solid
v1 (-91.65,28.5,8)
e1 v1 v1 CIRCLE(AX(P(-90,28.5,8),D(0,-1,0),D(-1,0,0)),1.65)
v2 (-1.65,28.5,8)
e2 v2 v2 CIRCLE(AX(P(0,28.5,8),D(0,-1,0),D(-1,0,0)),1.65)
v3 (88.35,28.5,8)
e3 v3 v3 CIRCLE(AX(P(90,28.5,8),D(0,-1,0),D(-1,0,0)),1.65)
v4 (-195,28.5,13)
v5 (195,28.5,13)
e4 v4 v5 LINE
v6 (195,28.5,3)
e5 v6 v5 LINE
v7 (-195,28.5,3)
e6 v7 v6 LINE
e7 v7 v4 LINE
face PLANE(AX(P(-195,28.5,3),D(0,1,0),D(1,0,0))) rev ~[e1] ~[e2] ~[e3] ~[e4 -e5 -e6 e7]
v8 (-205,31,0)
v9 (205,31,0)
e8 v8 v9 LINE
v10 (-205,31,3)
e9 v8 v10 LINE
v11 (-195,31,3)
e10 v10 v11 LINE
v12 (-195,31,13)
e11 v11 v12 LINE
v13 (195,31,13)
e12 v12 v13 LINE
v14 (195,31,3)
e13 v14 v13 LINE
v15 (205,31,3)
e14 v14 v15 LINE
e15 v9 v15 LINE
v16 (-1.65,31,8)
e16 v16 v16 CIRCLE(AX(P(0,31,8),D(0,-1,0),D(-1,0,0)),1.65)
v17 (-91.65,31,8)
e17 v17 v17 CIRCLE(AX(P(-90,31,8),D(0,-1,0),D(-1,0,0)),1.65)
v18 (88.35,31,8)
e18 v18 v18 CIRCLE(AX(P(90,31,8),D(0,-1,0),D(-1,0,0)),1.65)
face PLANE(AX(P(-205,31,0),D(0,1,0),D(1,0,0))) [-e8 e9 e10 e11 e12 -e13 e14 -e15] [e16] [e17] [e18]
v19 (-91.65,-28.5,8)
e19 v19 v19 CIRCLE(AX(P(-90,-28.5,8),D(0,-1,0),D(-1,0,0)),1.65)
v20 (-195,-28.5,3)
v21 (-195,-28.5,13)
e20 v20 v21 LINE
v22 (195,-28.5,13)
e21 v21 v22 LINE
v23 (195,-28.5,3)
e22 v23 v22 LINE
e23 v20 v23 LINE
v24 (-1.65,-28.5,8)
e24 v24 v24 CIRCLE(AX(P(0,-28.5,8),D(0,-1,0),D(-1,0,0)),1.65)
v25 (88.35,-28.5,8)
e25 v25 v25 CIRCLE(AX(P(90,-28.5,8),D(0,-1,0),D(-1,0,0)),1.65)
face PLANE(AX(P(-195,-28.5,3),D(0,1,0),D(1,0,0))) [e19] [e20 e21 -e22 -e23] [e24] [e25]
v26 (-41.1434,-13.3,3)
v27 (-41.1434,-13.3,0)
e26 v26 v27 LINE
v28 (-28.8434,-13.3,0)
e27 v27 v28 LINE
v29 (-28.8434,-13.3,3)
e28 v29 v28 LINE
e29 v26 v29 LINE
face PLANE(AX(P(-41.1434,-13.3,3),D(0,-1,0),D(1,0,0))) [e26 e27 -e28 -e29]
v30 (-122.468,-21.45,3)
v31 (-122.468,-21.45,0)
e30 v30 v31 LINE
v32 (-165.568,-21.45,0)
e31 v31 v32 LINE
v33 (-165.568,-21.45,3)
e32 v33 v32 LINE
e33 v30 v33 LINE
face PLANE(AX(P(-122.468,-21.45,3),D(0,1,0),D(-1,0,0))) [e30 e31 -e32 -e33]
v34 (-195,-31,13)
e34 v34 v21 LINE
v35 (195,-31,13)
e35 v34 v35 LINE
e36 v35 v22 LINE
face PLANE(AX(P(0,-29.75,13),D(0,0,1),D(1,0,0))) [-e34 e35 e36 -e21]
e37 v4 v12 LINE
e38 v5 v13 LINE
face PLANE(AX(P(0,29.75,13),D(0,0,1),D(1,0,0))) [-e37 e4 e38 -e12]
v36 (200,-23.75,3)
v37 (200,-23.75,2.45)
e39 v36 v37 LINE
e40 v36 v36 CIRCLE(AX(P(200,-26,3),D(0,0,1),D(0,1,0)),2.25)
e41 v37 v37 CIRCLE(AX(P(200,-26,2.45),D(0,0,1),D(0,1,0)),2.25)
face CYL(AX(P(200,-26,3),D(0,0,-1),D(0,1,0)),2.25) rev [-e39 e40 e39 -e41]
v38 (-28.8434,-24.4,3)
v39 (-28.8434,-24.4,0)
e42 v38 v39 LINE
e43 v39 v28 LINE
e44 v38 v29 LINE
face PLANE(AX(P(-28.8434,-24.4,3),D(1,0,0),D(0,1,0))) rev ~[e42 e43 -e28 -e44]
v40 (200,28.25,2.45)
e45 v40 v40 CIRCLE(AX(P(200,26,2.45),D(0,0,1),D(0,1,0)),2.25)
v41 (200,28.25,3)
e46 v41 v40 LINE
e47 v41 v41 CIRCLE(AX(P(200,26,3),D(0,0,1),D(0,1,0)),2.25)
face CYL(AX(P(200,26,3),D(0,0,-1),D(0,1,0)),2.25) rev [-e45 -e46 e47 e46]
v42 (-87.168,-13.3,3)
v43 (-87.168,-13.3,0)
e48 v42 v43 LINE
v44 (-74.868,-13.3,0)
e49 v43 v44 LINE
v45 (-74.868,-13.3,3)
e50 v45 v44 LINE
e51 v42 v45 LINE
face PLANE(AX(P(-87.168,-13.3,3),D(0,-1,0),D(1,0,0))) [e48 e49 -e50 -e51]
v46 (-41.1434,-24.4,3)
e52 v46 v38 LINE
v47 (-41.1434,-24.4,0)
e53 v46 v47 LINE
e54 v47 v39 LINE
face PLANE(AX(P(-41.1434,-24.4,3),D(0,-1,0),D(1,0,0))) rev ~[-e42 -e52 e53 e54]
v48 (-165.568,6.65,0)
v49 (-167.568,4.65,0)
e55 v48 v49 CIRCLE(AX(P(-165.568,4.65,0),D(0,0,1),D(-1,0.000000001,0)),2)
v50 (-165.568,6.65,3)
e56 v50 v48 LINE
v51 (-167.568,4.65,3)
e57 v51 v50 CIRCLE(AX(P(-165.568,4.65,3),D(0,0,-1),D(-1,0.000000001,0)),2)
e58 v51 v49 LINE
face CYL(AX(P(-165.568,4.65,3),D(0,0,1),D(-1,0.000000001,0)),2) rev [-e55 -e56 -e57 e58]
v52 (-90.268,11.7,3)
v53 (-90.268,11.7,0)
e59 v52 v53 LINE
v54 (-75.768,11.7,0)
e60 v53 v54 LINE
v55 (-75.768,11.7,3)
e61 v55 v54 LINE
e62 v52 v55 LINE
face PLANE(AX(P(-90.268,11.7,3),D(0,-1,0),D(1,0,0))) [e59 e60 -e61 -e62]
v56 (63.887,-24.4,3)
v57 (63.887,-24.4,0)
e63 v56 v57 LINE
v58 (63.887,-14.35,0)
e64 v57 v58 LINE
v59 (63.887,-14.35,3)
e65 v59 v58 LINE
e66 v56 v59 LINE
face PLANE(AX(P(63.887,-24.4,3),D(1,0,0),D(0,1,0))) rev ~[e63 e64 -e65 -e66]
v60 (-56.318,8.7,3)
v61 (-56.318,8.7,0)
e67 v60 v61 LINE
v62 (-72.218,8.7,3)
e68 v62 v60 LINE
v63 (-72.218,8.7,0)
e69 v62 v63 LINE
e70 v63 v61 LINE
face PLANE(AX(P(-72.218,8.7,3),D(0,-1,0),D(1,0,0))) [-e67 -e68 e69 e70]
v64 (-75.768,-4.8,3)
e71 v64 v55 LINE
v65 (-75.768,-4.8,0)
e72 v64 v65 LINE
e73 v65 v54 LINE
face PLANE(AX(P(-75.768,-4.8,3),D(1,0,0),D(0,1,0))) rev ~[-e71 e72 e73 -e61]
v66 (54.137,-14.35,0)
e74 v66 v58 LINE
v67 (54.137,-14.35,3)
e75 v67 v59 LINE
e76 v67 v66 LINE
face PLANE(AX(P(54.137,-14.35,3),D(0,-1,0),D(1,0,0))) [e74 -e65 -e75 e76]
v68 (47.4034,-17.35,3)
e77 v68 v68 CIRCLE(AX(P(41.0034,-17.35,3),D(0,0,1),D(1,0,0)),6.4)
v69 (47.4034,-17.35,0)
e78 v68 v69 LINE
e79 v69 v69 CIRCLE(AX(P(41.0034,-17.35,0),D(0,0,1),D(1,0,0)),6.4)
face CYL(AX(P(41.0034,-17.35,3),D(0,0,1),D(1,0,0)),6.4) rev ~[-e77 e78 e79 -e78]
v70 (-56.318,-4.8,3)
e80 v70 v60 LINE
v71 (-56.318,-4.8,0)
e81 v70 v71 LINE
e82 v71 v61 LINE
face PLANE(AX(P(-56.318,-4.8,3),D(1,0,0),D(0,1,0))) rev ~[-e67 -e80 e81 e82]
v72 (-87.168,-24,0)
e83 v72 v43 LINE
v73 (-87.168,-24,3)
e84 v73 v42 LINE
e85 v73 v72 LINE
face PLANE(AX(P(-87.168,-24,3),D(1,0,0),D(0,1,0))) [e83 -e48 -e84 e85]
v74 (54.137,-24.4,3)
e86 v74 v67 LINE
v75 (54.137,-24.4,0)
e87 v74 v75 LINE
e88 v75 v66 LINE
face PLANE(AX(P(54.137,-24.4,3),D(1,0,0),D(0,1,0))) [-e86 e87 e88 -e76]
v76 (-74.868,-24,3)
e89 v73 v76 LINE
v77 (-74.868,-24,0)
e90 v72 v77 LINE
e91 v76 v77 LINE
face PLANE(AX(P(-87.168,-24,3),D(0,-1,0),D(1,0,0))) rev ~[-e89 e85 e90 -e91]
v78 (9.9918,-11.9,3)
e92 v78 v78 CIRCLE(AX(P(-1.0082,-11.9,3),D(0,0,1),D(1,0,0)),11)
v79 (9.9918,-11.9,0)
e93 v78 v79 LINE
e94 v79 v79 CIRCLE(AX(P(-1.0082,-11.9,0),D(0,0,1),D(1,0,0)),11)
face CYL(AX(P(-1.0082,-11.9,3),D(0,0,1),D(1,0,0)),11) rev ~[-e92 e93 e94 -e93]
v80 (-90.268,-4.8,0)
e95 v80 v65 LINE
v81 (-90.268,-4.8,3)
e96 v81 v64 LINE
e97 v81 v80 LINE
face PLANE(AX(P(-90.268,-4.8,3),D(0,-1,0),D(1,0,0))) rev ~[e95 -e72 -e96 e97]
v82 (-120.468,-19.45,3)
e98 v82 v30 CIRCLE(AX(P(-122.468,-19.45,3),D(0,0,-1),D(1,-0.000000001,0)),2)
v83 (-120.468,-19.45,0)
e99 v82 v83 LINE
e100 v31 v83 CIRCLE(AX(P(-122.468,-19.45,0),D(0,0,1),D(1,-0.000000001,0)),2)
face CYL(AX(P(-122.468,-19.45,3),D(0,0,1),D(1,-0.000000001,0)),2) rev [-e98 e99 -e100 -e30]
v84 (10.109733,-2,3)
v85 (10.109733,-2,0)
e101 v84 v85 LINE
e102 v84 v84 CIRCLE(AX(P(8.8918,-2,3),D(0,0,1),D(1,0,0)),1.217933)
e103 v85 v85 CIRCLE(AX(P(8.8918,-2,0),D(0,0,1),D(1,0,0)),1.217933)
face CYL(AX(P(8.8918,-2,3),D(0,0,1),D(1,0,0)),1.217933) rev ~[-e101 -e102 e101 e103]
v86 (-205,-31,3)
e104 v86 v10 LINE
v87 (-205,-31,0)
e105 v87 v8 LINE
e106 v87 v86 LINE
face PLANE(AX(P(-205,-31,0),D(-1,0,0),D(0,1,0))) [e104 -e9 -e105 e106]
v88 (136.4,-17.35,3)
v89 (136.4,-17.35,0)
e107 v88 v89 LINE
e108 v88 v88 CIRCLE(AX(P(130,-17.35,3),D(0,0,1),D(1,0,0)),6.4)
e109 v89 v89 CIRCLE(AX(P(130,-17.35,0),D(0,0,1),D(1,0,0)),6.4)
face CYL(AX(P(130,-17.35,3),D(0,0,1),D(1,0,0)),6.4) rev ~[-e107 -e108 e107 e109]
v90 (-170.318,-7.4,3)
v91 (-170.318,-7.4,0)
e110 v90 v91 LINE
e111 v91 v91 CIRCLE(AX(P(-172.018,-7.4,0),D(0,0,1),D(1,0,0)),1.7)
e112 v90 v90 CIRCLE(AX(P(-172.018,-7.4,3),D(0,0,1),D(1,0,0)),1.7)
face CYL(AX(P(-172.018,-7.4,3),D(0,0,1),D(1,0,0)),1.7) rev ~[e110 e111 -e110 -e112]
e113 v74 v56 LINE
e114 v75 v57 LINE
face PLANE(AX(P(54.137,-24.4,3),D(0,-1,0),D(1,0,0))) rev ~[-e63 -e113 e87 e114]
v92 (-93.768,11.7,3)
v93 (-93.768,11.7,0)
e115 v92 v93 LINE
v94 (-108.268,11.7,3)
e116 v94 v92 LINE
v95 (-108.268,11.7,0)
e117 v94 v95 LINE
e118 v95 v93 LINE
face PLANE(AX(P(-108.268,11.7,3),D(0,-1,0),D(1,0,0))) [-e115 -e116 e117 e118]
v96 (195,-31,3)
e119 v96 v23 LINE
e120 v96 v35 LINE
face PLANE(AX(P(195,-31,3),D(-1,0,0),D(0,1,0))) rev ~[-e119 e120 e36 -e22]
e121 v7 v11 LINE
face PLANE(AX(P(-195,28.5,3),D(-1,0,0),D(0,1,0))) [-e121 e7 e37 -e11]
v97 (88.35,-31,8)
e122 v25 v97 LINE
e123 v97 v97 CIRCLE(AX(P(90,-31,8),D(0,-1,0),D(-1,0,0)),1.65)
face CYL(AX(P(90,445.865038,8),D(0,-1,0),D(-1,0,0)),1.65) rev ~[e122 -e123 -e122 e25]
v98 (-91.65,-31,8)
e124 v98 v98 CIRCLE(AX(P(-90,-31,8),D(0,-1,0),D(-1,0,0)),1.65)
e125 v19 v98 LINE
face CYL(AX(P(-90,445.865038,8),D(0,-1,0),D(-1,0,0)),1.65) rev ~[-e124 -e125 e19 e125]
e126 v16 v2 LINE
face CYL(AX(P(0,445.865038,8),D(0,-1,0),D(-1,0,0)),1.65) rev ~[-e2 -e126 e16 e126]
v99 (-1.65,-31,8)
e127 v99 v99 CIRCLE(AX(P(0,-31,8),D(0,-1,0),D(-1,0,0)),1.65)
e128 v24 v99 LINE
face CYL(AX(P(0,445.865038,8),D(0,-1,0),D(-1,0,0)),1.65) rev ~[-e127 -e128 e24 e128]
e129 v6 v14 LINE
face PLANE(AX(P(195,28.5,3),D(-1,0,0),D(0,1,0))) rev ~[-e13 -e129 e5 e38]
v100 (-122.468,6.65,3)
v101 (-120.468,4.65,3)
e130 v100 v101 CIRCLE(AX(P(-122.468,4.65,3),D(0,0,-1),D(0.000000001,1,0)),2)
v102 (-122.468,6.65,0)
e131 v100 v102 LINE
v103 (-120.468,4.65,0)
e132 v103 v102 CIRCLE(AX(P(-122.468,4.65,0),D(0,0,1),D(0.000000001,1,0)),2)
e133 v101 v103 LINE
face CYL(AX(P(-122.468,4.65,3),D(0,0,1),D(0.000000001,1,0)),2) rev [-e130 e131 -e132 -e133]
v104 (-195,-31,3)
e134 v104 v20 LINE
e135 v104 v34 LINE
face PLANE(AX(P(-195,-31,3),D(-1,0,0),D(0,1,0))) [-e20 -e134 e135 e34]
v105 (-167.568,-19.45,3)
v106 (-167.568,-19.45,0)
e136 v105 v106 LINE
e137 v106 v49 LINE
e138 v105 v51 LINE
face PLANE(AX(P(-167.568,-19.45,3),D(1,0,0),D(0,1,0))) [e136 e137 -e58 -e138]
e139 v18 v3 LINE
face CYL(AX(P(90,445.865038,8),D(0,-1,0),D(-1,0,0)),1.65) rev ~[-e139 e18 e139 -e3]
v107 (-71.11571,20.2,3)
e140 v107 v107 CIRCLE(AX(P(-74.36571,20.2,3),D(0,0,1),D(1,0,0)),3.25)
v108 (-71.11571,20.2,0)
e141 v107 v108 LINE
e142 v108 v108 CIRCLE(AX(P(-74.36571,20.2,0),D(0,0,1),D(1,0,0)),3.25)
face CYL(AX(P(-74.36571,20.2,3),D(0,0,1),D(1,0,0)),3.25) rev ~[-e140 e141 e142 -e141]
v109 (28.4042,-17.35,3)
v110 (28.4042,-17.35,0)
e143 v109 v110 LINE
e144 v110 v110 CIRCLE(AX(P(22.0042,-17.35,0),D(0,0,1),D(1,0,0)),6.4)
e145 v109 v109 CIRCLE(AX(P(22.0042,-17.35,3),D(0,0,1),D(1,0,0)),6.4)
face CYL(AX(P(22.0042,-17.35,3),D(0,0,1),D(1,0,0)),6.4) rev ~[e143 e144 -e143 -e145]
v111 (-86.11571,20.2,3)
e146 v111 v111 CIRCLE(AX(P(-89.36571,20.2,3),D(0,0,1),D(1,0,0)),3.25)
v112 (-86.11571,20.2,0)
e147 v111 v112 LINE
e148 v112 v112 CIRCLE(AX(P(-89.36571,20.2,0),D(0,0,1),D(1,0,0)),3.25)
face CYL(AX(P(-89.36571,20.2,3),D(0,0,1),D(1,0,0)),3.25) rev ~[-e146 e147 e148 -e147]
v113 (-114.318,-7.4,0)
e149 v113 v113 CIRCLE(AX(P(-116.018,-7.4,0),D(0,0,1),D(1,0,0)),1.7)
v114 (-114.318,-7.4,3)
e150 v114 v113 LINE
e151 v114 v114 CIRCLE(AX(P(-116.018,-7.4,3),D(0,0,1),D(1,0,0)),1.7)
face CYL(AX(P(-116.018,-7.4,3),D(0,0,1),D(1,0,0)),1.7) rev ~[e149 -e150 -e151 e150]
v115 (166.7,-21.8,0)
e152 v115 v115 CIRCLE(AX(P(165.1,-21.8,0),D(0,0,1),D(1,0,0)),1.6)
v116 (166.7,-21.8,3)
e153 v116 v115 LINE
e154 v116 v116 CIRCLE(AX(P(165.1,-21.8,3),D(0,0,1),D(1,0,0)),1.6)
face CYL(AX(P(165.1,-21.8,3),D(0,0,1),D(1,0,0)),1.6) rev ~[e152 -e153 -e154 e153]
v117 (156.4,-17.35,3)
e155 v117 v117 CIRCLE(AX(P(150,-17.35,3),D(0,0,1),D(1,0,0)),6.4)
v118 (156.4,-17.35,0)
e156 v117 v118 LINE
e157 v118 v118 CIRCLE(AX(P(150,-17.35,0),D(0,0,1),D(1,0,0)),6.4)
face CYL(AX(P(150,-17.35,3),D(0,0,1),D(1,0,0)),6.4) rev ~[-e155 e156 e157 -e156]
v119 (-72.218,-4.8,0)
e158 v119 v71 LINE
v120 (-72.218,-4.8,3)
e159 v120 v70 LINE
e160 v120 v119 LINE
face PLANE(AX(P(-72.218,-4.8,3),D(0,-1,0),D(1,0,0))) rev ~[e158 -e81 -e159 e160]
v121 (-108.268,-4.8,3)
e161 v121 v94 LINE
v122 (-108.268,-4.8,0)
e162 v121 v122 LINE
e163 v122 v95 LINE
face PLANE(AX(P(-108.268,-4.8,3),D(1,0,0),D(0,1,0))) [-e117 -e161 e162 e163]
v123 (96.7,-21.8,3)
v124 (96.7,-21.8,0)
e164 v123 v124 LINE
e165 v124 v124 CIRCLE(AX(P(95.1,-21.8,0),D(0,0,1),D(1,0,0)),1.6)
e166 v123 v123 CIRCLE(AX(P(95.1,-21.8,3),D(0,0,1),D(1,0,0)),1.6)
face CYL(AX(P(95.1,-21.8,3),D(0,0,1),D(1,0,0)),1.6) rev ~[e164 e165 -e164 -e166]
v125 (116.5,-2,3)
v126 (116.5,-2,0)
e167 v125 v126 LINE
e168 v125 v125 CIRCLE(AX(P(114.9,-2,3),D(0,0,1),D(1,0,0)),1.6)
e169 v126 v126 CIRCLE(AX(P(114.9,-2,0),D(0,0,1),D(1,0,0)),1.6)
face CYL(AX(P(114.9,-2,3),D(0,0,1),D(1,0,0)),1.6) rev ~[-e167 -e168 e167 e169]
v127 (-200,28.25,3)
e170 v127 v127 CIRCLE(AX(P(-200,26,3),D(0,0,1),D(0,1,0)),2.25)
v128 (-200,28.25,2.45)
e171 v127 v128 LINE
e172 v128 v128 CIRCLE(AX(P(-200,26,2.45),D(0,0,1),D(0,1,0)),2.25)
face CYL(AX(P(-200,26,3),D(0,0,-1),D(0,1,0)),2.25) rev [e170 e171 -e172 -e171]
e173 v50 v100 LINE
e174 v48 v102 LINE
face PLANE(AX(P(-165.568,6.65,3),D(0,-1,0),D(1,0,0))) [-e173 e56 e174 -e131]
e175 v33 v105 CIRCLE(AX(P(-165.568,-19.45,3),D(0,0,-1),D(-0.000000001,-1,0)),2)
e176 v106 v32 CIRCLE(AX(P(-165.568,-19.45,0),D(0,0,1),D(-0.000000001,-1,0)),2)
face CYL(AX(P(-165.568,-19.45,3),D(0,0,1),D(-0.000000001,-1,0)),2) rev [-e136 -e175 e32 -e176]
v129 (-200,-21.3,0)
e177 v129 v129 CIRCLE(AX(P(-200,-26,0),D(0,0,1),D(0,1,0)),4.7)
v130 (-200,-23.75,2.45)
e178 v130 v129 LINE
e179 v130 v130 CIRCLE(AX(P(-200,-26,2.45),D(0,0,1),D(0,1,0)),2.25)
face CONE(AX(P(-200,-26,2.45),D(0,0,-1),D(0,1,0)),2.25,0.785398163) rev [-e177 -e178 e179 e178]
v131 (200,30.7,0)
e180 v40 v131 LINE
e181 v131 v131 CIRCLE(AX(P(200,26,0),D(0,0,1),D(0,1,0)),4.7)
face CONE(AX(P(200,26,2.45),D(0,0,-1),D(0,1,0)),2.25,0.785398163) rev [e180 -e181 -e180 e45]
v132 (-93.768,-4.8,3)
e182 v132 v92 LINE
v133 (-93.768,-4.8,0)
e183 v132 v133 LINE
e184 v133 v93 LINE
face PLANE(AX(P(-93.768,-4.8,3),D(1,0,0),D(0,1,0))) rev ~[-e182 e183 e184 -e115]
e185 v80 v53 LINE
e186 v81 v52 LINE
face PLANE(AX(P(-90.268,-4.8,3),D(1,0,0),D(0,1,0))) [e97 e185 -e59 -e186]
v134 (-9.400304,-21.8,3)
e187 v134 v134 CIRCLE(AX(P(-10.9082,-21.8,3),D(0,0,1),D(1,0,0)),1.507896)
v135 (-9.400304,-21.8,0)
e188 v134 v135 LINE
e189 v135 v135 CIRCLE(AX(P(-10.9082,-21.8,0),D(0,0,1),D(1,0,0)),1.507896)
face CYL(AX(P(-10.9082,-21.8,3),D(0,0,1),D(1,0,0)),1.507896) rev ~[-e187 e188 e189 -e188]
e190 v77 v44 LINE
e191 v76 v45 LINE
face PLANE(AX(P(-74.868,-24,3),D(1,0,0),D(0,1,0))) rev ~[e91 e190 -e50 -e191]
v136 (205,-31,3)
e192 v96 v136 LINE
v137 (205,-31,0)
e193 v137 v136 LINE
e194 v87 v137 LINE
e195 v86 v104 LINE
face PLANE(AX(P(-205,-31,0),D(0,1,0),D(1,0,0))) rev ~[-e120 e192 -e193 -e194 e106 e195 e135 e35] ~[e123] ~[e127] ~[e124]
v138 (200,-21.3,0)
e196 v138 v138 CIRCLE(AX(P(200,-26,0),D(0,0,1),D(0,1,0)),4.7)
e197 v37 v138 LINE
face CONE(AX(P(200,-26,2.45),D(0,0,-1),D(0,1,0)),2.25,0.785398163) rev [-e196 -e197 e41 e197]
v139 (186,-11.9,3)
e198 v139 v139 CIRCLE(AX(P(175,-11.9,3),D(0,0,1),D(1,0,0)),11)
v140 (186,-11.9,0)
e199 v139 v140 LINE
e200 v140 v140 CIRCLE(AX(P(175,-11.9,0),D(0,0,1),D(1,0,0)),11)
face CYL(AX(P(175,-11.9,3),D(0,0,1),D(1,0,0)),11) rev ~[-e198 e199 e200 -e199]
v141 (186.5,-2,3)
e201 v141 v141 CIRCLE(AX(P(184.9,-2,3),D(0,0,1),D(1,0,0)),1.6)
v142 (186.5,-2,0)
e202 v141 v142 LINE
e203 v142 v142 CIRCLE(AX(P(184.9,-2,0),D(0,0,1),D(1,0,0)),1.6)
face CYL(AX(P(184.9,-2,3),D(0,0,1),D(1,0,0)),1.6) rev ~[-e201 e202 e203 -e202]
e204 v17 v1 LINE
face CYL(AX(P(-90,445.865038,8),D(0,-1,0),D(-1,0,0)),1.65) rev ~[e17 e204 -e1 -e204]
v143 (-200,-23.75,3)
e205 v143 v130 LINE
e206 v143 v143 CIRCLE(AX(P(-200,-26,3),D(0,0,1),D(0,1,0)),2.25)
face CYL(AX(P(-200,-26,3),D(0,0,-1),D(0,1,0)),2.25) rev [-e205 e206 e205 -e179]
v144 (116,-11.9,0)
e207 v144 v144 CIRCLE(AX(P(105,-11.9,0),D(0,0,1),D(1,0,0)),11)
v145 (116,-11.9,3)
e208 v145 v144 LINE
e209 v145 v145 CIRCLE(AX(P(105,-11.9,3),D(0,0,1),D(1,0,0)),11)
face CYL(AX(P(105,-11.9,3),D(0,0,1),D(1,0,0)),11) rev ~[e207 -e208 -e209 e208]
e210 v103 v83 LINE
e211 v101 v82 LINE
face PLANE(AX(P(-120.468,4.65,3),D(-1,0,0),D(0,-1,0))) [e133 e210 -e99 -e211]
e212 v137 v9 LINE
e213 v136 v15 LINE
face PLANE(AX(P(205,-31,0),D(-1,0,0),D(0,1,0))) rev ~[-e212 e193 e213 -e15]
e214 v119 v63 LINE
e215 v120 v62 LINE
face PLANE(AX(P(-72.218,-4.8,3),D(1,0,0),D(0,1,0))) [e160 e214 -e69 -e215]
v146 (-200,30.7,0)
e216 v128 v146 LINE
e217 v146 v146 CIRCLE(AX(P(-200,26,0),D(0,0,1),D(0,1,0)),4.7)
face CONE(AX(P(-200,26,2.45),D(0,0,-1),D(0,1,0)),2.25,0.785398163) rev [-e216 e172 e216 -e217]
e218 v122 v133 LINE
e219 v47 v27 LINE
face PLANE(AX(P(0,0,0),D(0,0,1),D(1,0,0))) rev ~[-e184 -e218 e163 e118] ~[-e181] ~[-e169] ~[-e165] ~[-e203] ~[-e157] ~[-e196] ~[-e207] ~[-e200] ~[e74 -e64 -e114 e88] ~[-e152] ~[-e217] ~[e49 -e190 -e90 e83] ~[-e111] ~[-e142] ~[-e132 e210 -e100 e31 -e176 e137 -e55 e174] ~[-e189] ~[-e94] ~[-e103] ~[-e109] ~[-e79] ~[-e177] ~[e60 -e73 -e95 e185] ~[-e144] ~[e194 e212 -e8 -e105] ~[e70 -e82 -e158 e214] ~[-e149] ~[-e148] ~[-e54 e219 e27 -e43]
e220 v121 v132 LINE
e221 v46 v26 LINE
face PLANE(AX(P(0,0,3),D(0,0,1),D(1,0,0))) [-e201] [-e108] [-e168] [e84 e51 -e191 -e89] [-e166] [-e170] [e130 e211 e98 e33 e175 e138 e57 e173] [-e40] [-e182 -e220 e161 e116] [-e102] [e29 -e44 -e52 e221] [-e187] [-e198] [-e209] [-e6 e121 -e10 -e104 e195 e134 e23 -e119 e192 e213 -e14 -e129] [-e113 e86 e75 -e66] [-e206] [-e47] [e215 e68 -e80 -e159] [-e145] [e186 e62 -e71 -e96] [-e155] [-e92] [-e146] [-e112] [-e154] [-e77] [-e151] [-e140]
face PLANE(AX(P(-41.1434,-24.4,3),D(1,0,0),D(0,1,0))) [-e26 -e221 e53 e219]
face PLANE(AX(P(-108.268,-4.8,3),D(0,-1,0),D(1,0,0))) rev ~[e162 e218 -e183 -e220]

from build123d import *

# Parameters (mm, degrees)
SKETCH_1_W                  = 410
SKETCH_1_H                  = 62
EXTRUDE_1_DEPTH             = 3
HOLE_WIZARD_M4_1_AT_2_COUNT = 2
HOLE_WIZARD_M4_1_AT_2_PITCH = 52
HOLE_WIZARD_M4_1_AT_3_COUNT = 2
HOLE_WIZARD_M4_1_AT_3_PITCH = 403.365838911
HOLE_WIZARD_M4_1_AT_4_COUNT = 2
HOLE_WIZARD_M4_1_AT_4_PITCH = 400
SKETCH_5_W                  = 390
SKETCH_5_H                  = 2.5
EXTRUDE_2_DEPTH             = 10
SKETCH_6_R                  = 1.7
SKETCH_6_W                  = 15.9
SKETCH_6_H                  = 13.5
SKETCH_6_W_2                = 14.5
SKETCH_6_H_2                = 16.5
SKETCH_6_W_3                = 12.3
SKETCH_6_H_3                = 10.7
SKETCH_6_H_4                = 11.1
SKETCH_6_R_2                = 11
SKETCH_6_R_3                = 1.217933171
SKETCH_6_R_4                = 6.4
SKETCH_6_R_5                = 1.507896367
SKETCH_6_W_4                = 9.75
SKETCH_6_H_5                = 10.05
SKETCH_6_R_6                = 1.6
SKETCH_6_R_7                = 3.25
CUT_EXTRUDE_1_DEPTH         = 10
HOLE_WIZARD_M4_1_2_D        = 3.3


with BuildPart() as part:
    # 草圖1 → 填料-伸長1 (new body)
    with BuildSketch(Plane.XY):
        Rectangle(SKETCH_1_W, SKETCH_1_H)
    extrude(amount=EXTRUDE_1_DEPTH)

    # 草圖2 → Hole Wizard M4 _1 (revolve, cut)
    with BuildSketch(Plane(origin=(-200, 26, 0), x_dir=(0, 1, 0), z_dir=(1, 0, 0))):
        Polygon((0, 0), (0, 3), (2.25, 3), (2.25, 2.45), (4.7, 0), align=None)
    hole_wizard_m4_1 = revolve(axis=Axis((-200, 26, -6.35), (0, 0, 1)), mode=Mode.SUBTRACT)

    # Hole Wizard M4 _1 at 2: Hole Wizard M4 _1 ×2
    with Locations(*[(0, -i * HOLE_WIZARD_M4_1_AT_2_PITCH, 0) for i in range(1, HOLE_WIZARD_M4_1_AT_2_COUNT)]):
        add(hole_wizard_m4_1, mode=Mode.SUBTRACT)

    # Hole Wizard M4 _1 at 3: Hole Wizard M4 _1 ×2
    with Locations(*[Vector(0.991655617, -0.12891523, 0) * (i * HOLE_WIZARD_M4_1_AT_3_PITCH) for i in range(1, HOLE_WIZARD_M4_1_AT_3_COUNT)]):
        add(hole_wizard_m4_1, mode=Mode.SUBTRACT)

    # Hole Wizard M4 _1 at 4: Hole Wizard M4 _1 ×2
    with Locations(*[(i * HOLE_WIZARD_M4_1_AT_4_PITCH, 0, 0) for i in range(1, HOLE_WIZARD_M4_1_AT_4_COUNT)]):
        add(hole_wizard_m4_1, mode=Mode.SUBTRACT)

    # 草圖5 → 填料-伸長2 (add)
    with BuildSketch(Plane.XY.offset(3)):
        with Locations((0, 29.75)):
            Rectangle(SKETCH_5_W, SKETCH_5_H)
        with Locations((0, -29.75)):
            Rectangle(SKETCH_5_W, SKETCH_5_H)
    extrude(amount=EXTRUDE_2_DEPTH)

    # 草圖6 → 除料-伸長1 (cut)
    with BuildSketch(Plane.XY.offset(3)):
        with BuildLine():
            ThreePointArc((-167.568, 4.65), (-166.982213562, 6.064213562), (-165.568, 6.65))
            Line((-165.568, 6.65), (-122.468, 6.65))
            ThreePointArc((-122.468, 6.65), (-121.053786438, 6.064213562), (-120.468, 4.65))
            Line((-120.468, 4.65), (-120.468, -19.45))
            ThreePointArc((-120.468, -19.45), (-121.053786438, -20.864213562), (-122.468, -21.45))
            Line((-122.468, -21.45), (-165.568, -21.45))
            ThreePointArc((-165.568, -21.45), (-166.982213562, -20.864213562), (-167.568, -19.45))
            Line((-167.568, -19.45), (-167.568, 4.65))
        make_face()
        with Locations((-172.018, -7.4)):
            Circle(SKETCH_6_R)
        with Locations((-116.018, -7.4)):
            Circle(SKETCH_6_R)
        with Locations((-64.268, 1.95)):
            Rectangle(SKETCH_6_W, SKETCH_6_H)
        with Locations((-83.018, 3.45)):
            Rectangle(SKETCH_6_W_2, SKETCH_6_H_2)
        with Locations((-101.018, 3.45)):
            Rectangle(SKETCH_6_W_2, SKETCH_6_H_2)
        with Locations((-81.018, -18.65)):
            Rectangle(SKETCH_6_W_3, SKETCH_6_H_3)
        with Locations((-34.9934, -18.85)):
            Rectangle(SKETCH_6_W_3, SKETCH_6_H_4)
        with Locations((-1.0082, -11.9)):
            Circle(SKETCH_6_R_2)
        with Locations((8.8918, -2)):
            Circle(SKETCH_6_R_3)
        with Locations((22.0042, -17.35)):
            Circle(SKETCH_6_R_4)
        with Locations((-10.9082, -21.8)):
            Circle(SKETCH_6_R_5)
        with Locations((59.012, -19.375)):
            Rectangle(SKETCH_6_W_4, SKETCH_6_H_5)
        with Locations((41.0034, -17.35)):
            Circle(SKETCH_6_R_4)
        with Locations((105, -11.9)):
            Circle(SKETCH_6_R_2)
        with Locations((130, -17.35)):
            Circle(SKETCH_6_R_4)
        with Locations((150, -17.35)):
            Circle(SKETCH_6_R_4)
        with Locations((175, -11.9)):
            Circle(SKETCH_6_R_2)
        with Locations((184.9, -2)):
            Circle(SKETCH_6_R_6)
        with Locations((165.1, -21.8)):
            Circle(SKETCH_6_R_6)
        with Locations((114.9, -2)):
            Circle(SKETCH_6_R_6)
        with Locations((95.1, -21.8)):
            Circle(SKETCH_6_R_6)
        with Locations((-74.365709963, 20.2)):
            Circle(SKETCH_6_R_7)
        with Locations((-89.365709963, 20.2)):
            Circle(SKETCH_6_R_7)
    extrude(amount=-CUT_EXTRUDE_1_DEPTH, mode=Mode.SUBTRACT)

    # Hole Wizard M4 _1 2 (through all)
    with Locations(Plane(origin=(0, 31, 0), x_dir=(1, 0, 0), z_dir=(0, 1, 0))):
        with Locations((0, -8), (-90, -8), (90, -8)):
            Hole(HOLE_WIZARD_M4_1_2_D / 2)


solid = part.part
